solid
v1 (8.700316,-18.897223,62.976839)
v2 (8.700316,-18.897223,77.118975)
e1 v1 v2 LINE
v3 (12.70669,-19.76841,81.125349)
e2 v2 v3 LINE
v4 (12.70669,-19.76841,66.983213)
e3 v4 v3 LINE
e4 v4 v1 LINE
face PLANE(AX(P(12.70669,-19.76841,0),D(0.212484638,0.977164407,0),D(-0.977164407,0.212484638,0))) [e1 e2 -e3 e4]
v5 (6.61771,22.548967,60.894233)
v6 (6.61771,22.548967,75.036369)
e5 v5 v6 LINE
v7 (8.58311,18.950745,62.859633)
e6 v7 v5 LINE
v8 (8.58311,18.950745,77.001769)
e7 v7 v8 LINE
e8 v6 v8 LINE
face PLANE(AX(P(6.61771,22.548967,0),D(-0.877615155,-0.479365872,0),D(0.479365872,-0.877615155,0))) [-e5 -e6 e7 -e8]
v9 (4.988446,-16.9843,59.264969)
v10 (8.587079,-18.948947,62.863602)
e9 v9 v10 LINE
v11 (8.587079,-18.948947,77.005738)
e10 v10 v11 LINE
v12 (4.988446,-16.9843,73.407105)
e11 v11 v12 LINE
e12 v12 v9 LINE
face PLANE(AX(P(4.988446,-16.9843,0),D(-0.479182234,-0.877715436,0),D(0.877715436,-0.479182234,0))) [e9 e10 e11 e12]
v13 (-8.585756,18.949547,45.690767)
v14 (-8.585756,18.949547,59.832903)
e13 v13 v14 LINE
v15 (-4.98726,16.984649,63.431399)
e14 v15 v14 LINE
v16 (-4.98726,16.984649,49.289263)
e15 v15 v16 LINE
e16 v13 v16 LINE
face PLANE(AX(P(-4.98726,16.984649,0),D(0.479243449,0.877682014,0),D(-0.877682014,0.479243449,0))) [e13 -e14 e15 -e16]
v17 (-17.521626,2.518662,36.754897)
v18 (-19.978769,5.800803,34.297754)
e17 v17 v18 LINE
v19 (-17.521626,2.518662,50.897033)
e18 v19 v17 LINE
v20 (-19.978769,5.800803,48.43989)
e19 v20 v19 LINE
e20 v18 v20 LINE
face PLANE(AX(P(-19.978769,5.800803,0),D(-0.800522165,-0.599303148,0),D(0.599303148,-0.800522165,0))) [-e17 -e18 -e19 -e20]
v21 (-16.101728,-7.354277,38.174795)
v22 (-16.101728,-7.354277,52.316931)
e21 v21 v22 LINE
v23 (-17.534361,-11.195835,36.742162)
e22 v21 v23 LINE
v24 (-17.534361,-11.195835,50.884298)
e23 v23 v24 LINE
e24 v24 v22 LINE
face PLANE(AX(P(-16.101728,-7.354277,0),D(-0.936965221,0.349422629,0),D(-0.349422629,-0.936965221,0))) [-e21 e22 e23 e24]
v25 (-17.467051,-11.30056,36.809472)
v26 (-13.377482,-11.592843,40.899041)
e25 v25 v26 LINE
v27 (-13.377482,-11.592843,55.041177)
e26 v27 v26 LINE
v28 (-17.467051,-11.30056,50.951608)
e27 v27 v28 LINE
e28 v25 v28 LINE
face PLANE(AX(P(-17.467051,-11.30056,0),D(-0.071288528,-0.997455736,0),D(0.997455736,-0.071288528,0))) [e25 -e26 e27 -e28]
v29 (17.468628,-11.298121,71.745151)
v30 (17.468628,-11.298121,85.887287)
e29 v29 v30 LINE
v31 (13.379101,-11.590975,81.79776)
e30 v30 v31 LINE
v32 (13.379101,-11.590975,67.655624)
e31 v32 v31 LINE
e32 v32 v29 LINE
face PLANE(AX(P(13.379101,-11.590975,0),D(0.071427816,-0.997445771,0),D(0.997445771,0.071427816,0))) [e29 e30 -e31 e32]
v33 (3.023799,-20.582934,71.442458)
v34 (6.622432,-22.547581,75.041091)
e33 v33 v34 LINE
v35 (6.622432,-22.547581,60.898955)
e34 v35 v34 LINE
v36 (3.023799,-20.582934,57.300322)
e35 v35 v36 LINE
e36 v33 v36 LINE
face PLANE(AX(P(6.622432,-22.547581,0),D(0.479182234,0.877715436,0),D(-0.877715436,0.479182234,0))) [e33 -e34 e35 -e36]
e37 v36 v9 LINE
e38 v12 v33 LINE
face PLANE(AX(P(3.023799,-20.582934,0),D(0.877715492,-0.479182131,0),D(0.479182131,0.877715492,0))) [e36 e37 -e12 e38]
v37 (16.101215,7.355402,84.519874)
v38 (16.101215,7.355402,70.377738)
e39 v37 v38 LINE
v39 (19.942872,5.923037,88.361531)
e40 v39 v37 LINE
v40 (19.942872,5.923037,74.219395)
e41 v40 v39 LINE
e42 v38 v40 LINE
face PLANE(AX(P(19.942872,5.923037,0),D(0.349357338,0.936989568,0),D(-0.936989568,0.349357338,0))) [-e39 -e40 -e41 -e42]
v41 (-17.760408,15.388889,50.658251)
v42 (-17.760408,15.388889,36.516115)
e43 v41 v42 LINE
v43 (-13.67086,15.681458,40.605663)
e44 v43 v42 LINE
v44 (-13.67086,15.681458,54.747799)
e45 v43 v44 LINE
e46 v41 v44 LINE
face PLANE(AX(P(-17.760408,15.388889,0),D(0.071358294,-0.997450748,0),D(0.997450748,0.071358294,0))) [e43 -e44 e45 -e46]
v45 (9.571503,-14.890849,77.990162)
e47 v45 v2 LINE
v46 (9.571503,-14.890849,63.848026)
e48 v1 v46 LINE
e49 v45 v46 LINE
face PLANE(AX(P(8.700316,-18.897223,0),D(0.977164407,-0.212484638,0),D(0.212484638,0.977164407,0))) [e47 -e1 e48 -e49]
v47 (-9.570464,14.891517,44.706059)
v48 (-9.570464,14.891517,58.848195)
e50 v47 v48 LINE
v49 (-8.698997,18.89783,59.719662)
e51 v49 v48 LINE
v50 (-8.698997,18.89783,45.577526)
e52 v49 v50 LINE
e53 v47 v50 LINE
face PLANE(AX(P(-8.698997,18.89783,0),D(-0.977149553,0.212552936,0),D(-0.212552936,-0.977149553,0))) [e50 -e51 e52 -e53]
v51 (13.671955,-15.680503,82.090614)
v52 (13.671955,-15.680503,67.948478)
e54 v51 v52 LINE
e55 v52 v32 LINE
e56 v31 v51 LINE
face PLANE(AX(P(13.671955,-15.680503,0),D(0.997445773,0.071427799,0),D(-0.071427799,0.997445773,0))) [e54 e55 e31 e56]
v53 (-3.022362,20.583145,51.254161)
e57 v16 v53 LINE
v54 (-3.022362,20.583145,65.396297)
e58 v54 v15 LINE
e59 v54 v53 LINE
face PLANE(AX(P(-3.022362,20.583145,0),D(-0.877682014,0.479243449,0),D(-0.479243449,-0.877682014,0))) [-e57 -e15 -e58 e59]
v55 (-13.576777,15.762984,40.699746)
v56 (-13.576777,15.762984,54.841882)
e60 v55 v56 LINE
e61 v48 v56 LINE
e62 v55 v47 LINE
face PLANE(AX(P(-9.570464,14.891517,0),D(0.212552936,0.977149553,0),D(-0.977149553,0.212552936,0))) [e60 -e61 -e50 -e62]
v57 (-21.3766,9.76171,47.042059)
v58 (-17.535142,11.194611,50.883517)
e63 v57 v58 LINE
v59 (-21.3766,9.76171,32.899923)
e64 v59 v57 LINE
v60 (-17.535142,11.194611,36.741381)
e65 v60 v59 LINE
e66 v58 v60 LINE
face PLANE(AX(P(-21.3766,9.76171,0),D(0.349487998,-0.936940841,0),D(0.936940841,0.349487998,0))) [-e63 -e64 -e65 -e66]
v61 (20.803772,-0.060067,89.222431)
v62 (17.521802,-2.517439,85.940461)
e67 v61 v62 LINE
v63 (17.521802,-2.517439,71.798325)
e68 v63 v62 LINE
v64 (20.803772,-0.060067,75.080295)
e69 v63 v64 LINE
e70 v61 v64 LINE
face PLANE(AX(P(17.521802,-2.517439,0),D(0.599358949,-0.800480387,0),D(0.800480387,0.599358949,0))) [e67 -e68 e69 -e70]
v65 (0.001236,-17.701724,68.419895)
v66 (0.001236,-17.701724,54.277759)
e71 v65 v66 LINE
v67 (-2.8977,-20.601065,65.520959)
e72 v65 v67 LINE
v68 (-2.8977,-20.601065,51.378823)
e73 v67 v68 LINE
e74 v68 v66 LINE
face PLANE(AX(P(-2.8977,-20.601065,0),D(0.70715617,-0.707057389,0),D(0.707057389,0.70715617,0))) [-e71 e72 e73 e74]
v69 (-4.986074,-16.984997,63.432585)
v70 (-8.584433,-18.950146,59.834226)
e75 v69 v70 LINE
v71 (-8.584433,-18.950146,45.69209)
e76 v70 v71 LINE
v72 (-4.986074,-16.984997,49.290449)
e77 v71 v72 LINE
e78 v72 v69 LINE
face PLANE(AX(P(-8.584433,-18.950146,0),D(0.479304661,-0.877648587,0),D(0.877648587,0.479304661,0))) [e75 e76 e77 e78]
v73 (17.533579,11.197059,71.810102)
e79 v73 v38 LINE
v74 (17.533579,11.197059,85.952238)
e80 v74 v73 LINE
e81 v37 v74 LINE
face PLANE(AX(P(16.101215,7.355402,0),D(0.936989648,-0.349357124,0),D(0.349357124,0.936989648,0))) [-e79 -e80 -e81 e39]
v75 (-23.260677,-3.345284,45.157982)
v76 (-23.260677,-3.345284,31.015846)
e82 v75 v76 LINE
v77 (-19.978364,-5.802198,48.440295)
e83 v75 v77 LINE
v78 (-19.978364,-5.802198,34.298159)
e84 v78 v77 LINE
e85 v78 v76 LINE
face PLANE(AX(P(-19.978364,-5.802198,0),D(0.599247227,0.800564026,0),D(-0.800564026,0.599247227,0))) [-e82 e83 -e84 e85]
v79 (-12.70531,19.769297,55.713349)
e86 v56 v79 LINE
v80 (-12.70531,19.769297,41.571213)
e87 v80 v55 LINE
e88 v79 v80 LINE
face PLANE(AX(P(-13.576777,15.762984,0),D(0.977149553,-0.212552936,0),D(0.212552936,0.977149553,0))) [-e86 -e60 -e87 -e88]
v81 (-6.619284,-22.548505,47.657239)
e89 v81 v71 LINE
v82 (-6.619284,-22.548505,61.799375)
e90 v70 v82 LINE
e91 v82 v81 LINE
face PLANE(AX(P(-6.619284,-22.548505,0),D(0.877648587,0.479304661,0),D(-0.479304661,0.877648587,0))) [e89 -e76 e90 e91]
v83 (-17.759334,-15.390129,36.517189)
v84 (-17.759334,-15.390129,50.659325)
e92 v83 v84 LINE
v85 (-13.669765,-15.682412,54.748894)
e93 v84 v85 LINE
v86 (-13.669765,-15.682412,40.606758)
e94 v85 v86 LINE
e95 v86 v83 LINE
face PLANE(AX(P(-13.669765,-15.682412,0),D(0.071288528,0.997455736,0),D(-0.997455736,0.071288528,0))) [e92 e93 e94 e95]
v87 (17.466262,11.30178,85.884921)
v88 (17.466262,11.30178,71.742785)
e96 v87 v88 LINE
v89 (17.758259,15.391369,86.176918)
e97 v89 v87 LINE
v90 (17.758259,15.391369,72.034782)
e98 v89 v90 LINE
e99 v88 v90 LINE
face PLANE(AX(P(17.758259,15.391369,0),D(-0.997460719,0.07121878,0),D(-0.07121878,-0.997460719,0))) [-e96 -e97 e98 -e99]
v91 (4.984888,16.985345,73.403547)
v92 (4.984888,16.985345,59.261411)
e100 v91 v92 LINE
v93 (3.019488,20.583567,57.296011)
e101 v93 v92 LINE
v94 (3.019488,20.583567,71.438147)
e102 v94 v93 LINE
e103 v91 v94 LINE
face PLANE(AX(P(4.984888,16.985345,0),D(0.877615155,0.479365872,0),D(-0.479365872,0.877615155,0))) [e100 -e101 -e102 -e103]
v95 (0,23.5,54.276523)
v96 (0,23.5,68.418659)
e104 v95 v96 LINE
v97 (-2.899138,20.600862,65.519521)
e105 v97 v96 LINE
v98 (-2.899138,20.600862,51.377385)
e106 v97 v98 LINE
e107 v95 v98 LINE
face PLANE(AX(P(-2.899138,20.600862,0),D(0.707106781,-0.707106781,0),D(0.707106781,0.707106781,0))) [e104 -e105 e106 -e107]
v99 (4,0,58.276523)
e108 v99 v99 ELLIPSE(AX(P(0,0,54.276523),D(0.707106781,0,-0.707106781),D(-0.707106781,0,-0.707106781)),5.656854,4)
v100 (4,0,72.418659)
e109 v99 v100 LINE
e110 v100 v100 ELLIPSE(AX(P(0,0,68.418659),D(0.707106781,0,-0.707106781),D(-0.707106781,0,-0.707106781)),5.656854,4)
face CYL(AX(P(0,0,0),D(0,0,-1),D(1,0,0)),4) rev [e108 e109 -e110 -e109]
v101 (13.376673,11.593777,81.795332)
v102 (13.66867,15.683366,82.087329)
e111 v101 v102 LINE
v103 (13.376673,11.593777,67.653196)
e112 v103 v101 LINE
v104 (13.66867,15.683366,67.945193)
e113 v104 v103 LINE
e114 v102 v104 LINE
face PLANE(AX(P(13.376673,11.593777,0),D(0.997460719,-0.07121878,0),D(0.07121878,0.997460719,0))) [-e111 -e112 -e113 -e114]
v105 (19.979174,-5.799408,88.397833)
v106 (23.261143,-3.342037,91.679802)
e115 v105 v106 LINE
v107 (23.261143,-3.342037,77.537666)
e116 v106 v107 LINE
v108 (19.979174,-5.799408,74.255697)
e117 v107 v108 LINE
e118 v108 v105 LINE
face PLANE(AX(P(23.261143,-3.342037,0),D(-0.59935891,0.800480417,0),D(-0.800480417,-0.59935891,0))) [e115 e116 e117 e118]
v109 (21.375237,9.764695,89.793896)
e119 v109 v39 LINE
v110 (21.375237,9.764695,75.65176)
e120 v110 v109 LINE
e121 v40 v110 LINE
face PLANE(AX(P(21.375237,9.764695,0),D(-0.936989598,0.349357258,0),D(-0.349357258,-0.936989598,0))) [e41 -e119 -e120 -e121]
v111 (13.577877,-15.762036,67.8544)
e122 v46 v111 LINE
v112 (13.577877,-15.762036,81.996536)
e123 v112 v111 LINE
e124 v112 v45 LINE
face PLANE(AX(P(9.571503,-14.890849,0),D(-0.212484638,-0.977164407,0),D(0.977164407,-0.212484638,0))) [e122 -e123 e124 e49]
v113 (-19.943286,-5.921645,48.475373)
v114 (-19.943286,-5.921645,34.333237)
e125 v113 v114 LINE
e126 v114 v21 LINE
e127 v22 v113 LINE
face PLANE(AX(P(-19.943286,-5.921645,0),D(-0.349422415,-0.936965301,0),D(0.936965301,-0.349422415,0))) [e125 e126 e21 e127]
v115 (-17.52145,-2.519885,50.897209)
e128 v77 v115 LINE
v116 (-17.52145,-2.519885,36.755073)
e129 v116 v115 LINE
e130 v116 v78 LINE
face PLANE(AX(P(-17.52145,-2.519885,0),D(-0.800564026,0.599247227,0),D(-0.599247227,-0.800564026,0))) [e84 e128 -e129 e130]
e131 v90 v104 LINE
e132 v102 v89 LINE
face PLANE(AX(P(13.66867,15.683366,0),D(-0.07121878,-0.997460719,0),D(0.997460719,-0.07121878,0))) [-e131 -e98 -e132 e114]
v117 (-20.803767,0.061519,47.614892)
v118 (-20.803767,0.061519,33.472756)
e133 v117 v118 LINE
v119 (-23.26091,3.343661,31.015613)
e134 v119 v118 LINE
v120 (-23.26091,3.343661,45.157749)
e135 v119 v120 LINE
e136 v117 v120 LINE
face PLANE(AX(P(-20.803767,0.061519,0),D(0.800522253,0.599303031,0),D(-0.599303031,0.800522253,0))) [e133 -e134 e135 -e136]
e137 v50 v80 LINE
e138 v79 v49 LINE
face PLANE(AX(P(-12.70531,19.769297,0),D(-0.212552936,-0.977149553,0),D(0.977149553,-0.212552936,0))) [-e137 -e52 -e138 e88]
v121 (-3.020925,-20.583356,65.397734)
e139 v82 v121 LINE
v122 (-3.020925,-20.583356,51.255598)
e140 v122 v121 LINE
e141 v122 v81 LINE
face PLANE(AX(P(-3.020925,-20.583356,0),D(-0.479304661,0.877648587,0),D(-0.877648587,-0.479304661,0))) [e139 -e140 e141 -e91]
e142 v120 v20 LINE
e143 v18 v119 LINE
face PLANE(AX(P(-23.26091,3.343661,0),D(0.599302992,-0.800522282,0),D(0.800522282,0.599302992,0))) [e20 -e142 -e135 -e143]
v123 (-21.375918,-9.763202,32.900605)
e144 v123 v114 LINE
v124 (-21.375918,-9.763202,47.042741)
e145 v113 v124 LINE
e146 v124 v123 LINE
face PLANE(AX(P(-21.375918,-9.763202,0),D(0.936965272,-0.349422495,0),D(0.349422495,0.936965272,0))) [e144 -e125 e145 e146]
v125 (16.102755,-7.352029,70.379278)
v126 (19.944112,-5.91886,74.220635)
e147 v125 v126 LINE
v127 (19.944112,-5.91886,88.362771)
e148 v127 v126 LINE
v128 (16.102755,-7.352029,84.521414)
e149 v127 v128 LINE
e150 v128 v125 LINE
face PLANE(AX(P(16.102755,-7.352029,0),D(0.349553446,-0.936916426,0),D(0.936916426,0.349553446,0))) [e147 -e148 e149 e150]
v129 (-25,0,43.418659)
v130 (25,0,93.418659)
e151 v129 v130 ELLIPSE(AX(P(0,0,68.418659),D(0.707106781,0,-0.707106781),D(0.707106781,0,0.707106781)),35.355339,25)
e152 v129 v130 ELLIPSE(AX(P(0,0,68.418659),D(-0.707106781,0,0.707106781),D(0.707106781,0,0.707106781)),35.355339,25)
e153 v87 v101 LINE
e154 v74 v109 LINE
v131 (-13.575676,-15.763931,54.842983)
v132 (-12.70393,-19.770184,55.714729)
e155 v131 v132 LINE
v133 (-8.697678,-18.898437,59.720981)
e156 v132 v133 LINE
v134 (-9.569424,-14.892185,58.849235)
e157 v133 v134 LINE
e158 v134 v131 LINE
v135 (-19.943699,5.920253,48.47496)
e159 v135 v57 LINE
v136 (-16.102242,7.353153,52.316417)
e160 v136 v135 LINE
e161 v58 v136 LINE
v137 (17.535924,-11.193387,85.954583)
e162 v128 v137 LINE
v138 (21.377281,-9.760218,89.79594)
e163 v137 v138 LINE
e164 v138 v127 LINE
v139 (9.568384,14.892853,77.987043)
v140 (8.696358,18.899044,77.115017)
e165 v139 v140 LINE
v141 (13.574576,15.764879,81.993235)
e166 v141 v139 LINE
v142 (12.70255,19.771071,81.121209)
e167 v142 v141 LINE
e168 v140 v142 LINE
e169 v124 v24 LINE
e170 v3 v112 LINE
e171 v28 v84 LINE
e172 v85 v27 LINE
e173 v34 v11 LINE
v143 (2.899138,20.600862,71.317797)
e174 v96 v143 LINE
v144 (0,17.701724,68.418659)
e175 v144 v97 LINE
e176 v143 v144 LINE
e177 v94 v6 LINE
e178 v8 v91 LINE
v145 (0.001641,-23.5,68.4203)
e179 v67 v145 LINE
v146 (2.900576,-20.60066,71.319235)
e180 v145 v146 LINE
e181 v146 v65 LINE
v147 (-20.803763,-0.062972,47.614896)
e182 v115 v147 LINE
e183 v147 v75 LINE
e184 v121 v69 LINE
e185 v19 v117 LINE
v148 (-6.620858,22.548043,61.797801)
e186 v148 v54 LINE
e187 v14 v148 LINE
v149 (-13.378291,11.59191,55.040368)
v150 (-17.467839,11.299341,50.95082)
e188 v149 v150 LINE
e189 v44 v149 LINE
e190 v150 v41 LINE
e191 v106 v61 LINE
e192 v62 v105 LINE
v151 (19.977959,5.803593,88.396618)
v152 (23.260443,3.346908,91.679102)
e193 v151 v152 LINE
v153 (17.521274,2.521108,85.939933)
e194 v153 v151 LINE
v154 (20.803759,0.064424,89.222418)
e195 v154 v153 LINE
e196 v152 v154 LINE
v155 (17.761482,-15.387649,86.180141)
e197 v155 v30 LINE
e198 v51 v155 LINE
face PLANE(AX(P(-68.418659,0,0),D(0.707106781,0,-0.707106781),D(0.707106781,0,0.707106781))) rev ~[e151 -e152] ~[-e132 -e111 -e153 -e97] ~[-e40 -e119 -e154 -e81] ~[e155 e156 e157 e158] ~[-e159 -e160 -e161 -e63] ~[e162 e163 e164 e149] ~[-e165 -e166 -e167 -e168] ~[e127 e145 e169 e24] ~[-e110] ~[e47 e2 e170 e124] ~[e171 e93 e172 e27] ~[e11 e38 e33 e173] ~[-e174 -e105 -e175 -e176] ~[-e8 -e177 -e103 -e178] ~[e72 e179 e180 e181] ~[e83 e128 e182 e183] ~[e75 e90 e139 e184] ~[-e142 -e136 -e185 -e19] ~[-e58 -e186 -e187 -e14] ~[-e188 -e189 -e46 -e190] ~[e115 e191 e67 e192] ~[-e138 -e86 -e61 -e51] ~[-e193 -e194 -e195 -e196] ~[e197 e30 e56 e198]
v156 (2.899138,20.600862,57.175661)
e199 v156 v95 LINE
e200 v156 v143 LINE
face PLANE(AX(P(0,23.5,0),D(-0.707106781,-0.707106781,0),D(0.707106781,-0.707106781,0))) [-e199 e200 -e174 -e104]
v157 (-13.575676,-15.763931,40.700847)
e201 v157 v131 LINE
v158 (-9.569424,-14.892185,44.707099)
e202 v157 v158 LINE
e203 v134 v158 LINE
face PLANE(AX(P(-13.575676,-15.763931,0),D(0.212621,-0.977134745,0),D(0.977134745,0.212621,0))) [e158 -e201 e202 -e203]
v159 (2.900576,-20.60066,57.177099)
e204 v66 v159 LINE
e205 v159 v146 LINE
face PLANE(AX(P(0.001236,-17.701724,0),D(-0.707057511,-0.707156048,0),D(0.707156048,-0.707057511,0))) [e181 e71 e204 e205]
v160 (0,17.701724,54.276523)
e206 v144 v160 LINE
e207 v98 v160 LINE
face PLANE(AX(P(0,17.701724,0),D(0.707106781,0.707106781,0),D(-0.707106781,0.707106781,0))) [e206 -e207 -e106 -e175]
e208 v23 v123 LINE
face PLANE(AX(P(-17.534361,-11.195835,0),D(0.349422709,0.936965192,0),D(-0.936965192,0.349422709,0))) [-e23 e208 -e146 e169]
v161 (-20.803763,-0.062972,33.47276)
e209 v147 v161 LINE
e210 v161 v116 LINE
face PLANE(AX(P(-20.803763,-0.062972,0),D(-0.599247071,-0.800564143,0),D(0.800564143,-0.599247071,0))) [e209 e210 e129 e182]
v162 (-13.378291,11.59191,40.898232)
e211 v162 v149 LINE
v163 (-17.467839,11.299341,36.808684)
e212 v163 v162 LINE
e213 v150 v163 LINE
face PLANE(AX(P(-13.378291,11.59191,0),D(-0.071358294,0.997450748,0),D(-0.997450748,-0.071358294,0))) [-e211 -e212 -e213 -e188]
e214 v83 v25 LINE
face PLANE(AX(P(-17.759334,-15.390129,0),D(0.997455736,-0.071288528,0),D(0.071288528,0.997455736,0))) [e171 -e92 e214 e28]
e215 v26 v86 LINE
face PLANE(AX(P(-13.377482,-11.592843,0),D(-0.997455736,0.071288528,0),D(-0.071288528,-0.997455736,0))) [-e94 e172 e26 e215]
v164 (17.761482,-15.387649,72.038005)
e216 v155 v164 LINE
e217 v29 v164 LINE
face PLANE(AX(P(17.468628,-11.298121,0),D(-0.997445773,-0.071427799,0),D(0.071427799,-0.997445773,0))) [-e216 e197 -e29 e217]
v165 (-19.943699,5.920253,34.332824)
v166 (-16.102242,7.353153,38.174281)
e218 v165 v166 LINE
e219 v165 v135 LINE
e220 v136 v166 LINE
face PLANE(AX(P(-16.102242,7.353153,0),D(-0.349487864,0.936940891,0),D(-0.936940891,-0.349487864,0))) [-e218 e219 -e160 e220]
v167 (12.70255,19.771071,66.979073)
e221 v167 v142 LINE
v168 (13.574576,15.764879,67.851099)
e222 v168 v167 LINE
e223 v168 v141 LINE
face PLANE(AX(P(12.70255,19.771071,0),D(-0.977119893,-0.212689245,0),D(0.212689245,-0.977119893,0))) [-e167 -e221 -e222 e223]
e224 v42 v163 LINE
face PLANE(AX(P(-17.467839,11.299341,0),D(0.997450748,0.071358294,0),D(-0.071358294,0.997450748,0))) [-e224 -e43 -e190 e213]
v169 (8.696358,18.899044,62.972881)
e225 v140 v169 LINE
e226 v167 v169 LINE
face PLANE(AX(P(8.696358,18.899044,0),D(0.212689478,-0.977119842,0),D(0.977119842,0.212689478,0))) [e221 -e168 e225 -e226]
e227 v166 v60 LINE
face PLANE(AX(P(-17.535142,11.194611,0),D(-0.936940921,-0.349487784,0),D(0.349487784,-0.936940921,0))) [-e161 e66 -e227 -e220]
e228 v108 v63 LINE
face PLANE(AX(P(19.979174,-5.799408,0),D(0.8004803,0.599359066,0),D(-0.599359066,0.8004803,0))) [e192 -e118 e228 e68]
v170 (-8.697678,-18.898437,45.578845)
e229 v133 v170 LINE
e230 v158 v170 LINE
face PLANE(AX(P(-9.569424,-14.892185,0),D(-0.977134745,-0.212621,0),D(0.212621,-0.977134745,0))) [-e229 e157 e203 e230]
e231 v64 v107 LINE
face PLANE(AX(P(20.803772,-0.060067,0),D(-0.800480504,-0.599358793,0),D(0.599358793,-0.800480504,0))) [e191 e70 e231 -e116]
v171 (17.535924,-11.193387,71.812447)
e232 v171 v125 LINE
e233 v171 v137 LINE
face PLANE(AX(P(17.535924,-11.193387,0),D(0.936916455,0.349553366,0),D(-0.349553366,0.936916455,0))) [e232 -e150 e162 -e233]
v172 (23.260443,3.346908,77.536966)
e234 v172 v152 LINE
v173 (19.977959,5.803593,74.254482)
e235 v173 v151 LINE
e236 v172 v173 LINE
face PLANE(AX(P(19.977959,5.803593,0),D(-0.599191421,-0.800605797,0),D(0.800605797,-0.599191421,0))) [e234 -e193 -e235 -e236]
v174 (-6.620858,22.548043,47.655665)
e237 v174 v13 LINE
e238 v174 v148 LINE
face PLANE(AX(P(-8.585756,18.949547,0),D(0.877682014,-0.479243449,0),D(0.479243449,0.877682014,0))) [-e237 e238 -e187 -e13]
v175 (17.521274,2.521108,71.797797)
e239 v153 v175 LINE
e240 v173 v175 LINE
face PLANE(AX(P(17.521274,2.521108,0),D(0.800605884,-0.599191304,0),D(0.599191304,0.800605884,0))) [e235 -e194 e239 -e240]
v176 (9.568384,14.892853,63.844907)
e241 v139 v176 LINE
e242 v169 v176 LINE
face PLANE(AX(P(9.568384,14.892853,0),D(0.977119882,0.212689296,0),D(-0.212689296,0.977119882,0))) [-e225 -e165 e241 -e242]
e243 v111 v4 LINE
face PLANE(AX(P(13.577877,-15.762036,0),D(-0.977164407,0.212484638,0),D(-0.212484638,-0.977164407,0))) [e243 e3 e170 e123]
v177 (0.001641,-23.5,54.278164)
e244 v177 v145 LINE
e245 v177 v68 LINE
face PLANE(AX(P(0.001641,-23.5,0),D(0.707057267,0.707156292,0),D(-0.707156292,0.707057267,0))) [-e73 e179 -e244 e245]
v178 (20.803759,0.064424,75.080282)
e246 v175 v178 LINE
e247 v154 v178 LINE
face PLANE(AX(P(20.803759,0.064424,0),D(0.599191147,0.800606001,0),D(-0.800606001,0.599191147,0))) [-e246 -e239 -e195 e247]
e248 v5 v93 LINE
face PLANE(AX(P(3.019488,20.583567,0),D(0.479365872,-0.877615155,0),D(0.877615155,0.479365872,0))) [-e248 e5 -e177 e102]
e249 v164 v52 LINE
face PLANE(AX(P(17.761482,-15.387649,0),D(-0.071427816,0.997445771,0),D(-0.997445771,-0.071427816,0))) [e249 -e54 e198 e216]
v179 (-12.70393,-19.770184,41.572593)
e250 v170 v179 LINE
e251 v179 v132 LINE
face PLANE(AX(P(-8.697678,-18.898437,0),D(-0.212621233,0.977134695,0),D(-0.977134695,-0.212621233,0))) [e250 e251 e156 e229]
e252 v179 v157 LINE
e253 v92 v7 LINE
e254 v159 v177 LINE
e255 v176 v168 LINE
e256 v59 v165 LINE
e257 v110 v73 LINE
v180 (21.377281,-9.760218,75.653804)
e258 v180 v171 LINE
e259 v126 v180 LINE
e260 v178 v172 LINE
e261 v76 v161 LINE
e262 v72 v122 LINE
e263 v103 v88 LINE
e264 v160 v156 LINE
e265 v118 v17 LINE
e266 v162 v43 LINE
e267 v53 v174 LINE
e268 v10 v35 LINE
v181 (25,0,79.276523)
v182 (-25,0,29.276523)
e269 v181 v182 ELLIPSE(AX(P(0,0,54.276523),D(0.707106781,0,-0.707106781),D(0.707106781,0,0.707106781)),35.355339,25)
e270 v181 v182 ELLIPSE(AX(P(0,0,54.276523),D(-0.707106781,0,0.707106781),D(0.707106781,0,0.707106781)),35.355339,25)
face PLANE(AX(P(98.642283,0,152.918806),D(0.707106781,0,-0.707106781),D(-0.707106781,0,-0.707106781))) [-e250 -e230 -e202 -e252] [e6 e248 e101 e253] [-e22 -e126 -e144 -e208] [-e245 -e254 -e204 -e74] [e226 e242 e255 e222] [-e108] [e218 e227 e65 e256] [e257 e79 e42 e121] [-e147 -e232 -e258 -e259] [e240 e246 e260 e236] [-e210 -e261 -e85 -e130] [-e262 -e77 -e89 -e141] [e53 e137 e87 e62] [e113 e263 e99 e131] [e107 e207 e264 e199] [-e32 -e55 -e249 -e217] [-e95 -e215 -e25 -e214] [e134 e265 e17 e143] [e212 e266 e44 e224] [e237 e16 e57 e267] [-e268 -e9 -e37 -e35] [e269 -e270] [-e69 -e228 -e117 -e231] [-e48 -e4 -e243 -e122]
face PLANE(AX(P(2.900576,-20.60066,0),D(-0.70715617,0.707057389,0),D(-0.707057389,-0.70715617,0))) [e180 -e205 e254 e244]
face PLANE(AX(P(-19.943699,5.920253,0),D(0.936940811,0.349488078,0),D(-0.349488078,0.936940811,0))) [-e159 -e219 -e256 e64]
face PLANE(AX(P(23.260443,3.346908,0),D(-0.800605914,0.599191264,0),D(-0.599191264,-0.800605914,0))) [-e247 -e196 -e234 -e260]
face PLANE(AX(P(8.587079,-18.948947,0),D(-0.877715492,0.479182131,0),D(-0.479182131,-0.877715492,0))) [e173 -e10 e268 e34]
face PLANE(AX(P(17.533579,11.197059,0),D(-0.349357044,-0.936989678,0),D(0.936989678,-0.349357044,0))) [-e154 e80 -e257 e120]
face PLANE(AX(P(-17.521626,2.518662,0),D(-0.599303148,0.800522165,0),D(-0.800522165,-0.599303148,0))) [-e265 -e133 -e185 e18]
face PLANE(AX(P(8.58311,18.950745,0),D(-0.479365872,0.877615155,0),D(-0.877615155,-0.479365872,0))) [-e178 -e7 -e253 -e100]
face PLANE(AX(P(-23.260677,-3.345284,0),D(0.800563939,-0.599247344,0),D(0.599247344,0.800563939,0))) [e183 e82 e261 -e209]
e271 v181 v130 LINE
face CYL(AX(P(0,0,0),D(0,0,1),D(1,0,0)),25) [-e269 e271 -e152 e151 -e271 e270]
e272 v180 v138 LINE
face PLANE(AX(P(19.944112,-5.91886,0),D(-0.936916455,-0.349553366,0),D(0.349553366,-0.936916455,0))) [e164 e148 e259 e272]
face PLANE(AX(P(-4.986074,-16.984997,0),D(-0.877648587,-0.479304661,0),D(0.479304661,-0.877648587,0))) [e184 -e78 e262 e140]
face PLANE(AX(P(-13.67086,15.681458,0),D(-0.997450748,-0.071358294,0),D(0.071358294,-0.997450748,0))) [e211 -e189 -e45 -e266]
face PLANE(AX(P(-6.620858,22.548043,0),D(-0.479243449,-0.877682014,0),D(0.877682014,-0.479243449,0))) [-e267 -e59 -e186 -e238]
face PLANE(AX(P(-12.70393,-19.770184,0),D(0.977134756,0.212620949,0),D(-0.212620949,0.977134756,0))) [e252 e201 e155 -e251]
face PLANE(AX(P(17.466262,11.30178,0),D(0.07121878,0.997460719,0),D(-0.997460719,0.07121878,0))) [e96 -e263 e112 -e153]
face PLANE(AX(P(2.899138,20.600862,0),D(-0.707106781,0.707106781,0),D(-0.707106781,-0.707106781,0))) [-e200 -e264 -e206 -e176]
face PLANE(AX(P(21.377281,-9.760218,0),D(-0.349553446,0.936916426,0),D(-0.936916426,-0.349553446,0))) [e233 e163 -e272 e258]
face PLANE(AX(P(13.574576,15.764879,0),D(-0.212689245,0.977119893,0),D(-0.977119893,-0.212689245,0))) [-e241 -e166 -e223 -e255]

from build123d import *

# Parameters (mm, degrees)
F0_R          = 25
F1_DEPTH      = 140
F1_DEPTH_BACK = 140
F3_DEPTH      = 70
F3_DEPTH_BACK = 70
F4_R          = 4
F5_DEPTH      = 100


with BuildPart() as f1:
    # F0 (on Top) → F1 (new body, two sides)
    with BuildSketch(Plane.XY) as f1_sk:
        Circle(F0_R)
        Polygon((-17.759334, -15.390129), (-17.467051, -11.30056), (-13.377482, -11.592843), (-13.669765, -15.682412), align=None, mode=Mode.SUBTRACT)
        Polygon((-4.986074, -16.984997), (-3.020925, -20.583356), (-6.619284, -22.548505), (-8.584433, -18.950146), align=None, mode=Mode.SUBTRACT)
        Polygon((-12.70393, -19.770184), (-13.575676, -15.763931), (-9.569424, -14.892185), (-8.697678, -18.898437), align=None, mode=Mode.SUBTRACT)
        Polygon((-16.101728, -7.354277), (-17.534361, -11.195835), (-21.375918, -9.763202), (-19.943286, -5.921645), align=None, mode=Mode.SUBTRACT)
        Polygon((-17.52145, -2.519885), (-19.978364, -5.802198), (-23.260677, -3.345284), (-20.803763, -0.062972), align=None, mode=Mode.SUBTRACT)
        Polygon((2.900576, -20.60066), (0.001641, -23.5), (-2.8977, -20.601065), (0.001236, -17.701724), align=None, mode=Mode.SUBTRACT)
        Polygon((8.587079, -18.948947), (6.622432, -22.547581), (3.023799, -20.582934), (4.988446, -16.9843), align=None, mode=Mode.SUBTRACT)
        Polygon((12.70669, -19.76841), (8.700316, -18.897223), (9.571503, -14.890849), (13.577877, -15.762036), align=None, mode=Mode.SUBTRACT)
        Polygon((13.379101, -11.590975), (17.468628, -11.298121), (17.761482, -15.387649), (13.671955, -15.680503), align=None, mode=Mode.SUBTRACT)
        Polygon((21.377281, -9.760218), (17.535924, -11.193387), (16.102755, -7.352029), (19.944112, -5.91886), align=None, mode=Mode.SUBTRACT)
        Polygon((19.979174, -5.799408), (17.521802, -2.517439), (20.803772, -0.060067), (23.261143, -3.342037), align=None, mode=Mode.SUBTRACT)
        Polygon((-23.26091, 3.343661), (-19.978769, 5.800803), (-17.521626, 2.518662), (-20.803767, 0.061519), align=None, mode=Mode.SUBTRACT)
        Polygon((-19.943699, 5.920253), (-21.3766, 9.76171), (-17.535142, 11.194611), (-16.102242, 7.353153), align=None, mode=Mode.SUBTRACT)
        Polygon((-13.67086, 15.681458), (-13.378291, 11.59191), (-17.467839, 11.299341), (-17.760408, 15.388889), align=None, mode=Mode.SUBTRACT)
        Polygon((-9.570464, 14.891517), (-13.576777, 15.762984), (-12.70531, 19.769297), (-8.698997, 18.89783), align=None, mode=Mode.SUBTRACT)
        Polygon((-8.585756, 18.949547), (-6.620858, 22.548043), (-3.022362, 20.583145), (-4.98726, 16.984649), align=None, mode=Mode.SUBTRACT)
        Polygon((19.977959, 5.803593), (23.260443, 3.346908), (20.803759, 0.064424), (17.521274, 2.521108), align=None, mode=Mode.SUBTRACT)
        Polygon((21.375237, 9.764695), (19.942872, 5.923037), (16.101215, 7.355402), (17.533579, 11.197059), align=None, mode=Mode.SUBTRACT)
        Polygon((12.70255, 19.771071), (13.574576, 15.764879), (9.568384, 14.892853), (8.696358, 18.899044), align=None, mode=Mode.SUBTRACT)
        Polygon((-0.00164, 23.49836), (0, 23.5), (2.899138, 20.600862), (0, 17.701724), (-0.001236, 17.70296), (-2.899138, 20.600862), align=None, mode=Mode.SUBTRACT)
        Polygon((6.61771, 22.548967), (8.58311, 18.950745), (4.984888, 16.985345), (3.019488, 20.583567), align=None, mode=Mode.SUBTRACT)
        Polygon((13.376673, 11.593777), (13.66867, 15.683366), (17.758259, 15.391369), (17.466262, 11.30178), align=None, mode=Mode.SUBTRACT)
    extrude(amount=F1_DEPTH)
    extrude(f1_sk.sketch, amount=-F1_DEPTH_BACK)

    # F2 (on Front) → F3 (cut, two sides)
    with BuildSketch(Plane.XZ) as f3_sk:
        Polygon((98.642283, 152.918806), (-61.347591, -7.071068), (-72.7507, -18.474177), (-63.999477, -174.67025), (77.080854, -174.67025), align=None)
        Polygon((-70.218705, 159.989874), (-68.418659, 0), (91.571215, 159.989874), align=None)
    extrude(amount=F3_DEPTH, mode=Mode.SUBTRACT)
    extrude(f3_sk.sketch, amount=-F3_DEPTH_BACK, mode=Mode.SUBTRACT)

    # F4 (on Top) → F5 (cut)
    with BuildSketch(Plane.XY):
        Circle(F4_R)
    extrude(amount=F5_DEPTH, mode=Mode.SUBTRACT)


solid = f1.part
